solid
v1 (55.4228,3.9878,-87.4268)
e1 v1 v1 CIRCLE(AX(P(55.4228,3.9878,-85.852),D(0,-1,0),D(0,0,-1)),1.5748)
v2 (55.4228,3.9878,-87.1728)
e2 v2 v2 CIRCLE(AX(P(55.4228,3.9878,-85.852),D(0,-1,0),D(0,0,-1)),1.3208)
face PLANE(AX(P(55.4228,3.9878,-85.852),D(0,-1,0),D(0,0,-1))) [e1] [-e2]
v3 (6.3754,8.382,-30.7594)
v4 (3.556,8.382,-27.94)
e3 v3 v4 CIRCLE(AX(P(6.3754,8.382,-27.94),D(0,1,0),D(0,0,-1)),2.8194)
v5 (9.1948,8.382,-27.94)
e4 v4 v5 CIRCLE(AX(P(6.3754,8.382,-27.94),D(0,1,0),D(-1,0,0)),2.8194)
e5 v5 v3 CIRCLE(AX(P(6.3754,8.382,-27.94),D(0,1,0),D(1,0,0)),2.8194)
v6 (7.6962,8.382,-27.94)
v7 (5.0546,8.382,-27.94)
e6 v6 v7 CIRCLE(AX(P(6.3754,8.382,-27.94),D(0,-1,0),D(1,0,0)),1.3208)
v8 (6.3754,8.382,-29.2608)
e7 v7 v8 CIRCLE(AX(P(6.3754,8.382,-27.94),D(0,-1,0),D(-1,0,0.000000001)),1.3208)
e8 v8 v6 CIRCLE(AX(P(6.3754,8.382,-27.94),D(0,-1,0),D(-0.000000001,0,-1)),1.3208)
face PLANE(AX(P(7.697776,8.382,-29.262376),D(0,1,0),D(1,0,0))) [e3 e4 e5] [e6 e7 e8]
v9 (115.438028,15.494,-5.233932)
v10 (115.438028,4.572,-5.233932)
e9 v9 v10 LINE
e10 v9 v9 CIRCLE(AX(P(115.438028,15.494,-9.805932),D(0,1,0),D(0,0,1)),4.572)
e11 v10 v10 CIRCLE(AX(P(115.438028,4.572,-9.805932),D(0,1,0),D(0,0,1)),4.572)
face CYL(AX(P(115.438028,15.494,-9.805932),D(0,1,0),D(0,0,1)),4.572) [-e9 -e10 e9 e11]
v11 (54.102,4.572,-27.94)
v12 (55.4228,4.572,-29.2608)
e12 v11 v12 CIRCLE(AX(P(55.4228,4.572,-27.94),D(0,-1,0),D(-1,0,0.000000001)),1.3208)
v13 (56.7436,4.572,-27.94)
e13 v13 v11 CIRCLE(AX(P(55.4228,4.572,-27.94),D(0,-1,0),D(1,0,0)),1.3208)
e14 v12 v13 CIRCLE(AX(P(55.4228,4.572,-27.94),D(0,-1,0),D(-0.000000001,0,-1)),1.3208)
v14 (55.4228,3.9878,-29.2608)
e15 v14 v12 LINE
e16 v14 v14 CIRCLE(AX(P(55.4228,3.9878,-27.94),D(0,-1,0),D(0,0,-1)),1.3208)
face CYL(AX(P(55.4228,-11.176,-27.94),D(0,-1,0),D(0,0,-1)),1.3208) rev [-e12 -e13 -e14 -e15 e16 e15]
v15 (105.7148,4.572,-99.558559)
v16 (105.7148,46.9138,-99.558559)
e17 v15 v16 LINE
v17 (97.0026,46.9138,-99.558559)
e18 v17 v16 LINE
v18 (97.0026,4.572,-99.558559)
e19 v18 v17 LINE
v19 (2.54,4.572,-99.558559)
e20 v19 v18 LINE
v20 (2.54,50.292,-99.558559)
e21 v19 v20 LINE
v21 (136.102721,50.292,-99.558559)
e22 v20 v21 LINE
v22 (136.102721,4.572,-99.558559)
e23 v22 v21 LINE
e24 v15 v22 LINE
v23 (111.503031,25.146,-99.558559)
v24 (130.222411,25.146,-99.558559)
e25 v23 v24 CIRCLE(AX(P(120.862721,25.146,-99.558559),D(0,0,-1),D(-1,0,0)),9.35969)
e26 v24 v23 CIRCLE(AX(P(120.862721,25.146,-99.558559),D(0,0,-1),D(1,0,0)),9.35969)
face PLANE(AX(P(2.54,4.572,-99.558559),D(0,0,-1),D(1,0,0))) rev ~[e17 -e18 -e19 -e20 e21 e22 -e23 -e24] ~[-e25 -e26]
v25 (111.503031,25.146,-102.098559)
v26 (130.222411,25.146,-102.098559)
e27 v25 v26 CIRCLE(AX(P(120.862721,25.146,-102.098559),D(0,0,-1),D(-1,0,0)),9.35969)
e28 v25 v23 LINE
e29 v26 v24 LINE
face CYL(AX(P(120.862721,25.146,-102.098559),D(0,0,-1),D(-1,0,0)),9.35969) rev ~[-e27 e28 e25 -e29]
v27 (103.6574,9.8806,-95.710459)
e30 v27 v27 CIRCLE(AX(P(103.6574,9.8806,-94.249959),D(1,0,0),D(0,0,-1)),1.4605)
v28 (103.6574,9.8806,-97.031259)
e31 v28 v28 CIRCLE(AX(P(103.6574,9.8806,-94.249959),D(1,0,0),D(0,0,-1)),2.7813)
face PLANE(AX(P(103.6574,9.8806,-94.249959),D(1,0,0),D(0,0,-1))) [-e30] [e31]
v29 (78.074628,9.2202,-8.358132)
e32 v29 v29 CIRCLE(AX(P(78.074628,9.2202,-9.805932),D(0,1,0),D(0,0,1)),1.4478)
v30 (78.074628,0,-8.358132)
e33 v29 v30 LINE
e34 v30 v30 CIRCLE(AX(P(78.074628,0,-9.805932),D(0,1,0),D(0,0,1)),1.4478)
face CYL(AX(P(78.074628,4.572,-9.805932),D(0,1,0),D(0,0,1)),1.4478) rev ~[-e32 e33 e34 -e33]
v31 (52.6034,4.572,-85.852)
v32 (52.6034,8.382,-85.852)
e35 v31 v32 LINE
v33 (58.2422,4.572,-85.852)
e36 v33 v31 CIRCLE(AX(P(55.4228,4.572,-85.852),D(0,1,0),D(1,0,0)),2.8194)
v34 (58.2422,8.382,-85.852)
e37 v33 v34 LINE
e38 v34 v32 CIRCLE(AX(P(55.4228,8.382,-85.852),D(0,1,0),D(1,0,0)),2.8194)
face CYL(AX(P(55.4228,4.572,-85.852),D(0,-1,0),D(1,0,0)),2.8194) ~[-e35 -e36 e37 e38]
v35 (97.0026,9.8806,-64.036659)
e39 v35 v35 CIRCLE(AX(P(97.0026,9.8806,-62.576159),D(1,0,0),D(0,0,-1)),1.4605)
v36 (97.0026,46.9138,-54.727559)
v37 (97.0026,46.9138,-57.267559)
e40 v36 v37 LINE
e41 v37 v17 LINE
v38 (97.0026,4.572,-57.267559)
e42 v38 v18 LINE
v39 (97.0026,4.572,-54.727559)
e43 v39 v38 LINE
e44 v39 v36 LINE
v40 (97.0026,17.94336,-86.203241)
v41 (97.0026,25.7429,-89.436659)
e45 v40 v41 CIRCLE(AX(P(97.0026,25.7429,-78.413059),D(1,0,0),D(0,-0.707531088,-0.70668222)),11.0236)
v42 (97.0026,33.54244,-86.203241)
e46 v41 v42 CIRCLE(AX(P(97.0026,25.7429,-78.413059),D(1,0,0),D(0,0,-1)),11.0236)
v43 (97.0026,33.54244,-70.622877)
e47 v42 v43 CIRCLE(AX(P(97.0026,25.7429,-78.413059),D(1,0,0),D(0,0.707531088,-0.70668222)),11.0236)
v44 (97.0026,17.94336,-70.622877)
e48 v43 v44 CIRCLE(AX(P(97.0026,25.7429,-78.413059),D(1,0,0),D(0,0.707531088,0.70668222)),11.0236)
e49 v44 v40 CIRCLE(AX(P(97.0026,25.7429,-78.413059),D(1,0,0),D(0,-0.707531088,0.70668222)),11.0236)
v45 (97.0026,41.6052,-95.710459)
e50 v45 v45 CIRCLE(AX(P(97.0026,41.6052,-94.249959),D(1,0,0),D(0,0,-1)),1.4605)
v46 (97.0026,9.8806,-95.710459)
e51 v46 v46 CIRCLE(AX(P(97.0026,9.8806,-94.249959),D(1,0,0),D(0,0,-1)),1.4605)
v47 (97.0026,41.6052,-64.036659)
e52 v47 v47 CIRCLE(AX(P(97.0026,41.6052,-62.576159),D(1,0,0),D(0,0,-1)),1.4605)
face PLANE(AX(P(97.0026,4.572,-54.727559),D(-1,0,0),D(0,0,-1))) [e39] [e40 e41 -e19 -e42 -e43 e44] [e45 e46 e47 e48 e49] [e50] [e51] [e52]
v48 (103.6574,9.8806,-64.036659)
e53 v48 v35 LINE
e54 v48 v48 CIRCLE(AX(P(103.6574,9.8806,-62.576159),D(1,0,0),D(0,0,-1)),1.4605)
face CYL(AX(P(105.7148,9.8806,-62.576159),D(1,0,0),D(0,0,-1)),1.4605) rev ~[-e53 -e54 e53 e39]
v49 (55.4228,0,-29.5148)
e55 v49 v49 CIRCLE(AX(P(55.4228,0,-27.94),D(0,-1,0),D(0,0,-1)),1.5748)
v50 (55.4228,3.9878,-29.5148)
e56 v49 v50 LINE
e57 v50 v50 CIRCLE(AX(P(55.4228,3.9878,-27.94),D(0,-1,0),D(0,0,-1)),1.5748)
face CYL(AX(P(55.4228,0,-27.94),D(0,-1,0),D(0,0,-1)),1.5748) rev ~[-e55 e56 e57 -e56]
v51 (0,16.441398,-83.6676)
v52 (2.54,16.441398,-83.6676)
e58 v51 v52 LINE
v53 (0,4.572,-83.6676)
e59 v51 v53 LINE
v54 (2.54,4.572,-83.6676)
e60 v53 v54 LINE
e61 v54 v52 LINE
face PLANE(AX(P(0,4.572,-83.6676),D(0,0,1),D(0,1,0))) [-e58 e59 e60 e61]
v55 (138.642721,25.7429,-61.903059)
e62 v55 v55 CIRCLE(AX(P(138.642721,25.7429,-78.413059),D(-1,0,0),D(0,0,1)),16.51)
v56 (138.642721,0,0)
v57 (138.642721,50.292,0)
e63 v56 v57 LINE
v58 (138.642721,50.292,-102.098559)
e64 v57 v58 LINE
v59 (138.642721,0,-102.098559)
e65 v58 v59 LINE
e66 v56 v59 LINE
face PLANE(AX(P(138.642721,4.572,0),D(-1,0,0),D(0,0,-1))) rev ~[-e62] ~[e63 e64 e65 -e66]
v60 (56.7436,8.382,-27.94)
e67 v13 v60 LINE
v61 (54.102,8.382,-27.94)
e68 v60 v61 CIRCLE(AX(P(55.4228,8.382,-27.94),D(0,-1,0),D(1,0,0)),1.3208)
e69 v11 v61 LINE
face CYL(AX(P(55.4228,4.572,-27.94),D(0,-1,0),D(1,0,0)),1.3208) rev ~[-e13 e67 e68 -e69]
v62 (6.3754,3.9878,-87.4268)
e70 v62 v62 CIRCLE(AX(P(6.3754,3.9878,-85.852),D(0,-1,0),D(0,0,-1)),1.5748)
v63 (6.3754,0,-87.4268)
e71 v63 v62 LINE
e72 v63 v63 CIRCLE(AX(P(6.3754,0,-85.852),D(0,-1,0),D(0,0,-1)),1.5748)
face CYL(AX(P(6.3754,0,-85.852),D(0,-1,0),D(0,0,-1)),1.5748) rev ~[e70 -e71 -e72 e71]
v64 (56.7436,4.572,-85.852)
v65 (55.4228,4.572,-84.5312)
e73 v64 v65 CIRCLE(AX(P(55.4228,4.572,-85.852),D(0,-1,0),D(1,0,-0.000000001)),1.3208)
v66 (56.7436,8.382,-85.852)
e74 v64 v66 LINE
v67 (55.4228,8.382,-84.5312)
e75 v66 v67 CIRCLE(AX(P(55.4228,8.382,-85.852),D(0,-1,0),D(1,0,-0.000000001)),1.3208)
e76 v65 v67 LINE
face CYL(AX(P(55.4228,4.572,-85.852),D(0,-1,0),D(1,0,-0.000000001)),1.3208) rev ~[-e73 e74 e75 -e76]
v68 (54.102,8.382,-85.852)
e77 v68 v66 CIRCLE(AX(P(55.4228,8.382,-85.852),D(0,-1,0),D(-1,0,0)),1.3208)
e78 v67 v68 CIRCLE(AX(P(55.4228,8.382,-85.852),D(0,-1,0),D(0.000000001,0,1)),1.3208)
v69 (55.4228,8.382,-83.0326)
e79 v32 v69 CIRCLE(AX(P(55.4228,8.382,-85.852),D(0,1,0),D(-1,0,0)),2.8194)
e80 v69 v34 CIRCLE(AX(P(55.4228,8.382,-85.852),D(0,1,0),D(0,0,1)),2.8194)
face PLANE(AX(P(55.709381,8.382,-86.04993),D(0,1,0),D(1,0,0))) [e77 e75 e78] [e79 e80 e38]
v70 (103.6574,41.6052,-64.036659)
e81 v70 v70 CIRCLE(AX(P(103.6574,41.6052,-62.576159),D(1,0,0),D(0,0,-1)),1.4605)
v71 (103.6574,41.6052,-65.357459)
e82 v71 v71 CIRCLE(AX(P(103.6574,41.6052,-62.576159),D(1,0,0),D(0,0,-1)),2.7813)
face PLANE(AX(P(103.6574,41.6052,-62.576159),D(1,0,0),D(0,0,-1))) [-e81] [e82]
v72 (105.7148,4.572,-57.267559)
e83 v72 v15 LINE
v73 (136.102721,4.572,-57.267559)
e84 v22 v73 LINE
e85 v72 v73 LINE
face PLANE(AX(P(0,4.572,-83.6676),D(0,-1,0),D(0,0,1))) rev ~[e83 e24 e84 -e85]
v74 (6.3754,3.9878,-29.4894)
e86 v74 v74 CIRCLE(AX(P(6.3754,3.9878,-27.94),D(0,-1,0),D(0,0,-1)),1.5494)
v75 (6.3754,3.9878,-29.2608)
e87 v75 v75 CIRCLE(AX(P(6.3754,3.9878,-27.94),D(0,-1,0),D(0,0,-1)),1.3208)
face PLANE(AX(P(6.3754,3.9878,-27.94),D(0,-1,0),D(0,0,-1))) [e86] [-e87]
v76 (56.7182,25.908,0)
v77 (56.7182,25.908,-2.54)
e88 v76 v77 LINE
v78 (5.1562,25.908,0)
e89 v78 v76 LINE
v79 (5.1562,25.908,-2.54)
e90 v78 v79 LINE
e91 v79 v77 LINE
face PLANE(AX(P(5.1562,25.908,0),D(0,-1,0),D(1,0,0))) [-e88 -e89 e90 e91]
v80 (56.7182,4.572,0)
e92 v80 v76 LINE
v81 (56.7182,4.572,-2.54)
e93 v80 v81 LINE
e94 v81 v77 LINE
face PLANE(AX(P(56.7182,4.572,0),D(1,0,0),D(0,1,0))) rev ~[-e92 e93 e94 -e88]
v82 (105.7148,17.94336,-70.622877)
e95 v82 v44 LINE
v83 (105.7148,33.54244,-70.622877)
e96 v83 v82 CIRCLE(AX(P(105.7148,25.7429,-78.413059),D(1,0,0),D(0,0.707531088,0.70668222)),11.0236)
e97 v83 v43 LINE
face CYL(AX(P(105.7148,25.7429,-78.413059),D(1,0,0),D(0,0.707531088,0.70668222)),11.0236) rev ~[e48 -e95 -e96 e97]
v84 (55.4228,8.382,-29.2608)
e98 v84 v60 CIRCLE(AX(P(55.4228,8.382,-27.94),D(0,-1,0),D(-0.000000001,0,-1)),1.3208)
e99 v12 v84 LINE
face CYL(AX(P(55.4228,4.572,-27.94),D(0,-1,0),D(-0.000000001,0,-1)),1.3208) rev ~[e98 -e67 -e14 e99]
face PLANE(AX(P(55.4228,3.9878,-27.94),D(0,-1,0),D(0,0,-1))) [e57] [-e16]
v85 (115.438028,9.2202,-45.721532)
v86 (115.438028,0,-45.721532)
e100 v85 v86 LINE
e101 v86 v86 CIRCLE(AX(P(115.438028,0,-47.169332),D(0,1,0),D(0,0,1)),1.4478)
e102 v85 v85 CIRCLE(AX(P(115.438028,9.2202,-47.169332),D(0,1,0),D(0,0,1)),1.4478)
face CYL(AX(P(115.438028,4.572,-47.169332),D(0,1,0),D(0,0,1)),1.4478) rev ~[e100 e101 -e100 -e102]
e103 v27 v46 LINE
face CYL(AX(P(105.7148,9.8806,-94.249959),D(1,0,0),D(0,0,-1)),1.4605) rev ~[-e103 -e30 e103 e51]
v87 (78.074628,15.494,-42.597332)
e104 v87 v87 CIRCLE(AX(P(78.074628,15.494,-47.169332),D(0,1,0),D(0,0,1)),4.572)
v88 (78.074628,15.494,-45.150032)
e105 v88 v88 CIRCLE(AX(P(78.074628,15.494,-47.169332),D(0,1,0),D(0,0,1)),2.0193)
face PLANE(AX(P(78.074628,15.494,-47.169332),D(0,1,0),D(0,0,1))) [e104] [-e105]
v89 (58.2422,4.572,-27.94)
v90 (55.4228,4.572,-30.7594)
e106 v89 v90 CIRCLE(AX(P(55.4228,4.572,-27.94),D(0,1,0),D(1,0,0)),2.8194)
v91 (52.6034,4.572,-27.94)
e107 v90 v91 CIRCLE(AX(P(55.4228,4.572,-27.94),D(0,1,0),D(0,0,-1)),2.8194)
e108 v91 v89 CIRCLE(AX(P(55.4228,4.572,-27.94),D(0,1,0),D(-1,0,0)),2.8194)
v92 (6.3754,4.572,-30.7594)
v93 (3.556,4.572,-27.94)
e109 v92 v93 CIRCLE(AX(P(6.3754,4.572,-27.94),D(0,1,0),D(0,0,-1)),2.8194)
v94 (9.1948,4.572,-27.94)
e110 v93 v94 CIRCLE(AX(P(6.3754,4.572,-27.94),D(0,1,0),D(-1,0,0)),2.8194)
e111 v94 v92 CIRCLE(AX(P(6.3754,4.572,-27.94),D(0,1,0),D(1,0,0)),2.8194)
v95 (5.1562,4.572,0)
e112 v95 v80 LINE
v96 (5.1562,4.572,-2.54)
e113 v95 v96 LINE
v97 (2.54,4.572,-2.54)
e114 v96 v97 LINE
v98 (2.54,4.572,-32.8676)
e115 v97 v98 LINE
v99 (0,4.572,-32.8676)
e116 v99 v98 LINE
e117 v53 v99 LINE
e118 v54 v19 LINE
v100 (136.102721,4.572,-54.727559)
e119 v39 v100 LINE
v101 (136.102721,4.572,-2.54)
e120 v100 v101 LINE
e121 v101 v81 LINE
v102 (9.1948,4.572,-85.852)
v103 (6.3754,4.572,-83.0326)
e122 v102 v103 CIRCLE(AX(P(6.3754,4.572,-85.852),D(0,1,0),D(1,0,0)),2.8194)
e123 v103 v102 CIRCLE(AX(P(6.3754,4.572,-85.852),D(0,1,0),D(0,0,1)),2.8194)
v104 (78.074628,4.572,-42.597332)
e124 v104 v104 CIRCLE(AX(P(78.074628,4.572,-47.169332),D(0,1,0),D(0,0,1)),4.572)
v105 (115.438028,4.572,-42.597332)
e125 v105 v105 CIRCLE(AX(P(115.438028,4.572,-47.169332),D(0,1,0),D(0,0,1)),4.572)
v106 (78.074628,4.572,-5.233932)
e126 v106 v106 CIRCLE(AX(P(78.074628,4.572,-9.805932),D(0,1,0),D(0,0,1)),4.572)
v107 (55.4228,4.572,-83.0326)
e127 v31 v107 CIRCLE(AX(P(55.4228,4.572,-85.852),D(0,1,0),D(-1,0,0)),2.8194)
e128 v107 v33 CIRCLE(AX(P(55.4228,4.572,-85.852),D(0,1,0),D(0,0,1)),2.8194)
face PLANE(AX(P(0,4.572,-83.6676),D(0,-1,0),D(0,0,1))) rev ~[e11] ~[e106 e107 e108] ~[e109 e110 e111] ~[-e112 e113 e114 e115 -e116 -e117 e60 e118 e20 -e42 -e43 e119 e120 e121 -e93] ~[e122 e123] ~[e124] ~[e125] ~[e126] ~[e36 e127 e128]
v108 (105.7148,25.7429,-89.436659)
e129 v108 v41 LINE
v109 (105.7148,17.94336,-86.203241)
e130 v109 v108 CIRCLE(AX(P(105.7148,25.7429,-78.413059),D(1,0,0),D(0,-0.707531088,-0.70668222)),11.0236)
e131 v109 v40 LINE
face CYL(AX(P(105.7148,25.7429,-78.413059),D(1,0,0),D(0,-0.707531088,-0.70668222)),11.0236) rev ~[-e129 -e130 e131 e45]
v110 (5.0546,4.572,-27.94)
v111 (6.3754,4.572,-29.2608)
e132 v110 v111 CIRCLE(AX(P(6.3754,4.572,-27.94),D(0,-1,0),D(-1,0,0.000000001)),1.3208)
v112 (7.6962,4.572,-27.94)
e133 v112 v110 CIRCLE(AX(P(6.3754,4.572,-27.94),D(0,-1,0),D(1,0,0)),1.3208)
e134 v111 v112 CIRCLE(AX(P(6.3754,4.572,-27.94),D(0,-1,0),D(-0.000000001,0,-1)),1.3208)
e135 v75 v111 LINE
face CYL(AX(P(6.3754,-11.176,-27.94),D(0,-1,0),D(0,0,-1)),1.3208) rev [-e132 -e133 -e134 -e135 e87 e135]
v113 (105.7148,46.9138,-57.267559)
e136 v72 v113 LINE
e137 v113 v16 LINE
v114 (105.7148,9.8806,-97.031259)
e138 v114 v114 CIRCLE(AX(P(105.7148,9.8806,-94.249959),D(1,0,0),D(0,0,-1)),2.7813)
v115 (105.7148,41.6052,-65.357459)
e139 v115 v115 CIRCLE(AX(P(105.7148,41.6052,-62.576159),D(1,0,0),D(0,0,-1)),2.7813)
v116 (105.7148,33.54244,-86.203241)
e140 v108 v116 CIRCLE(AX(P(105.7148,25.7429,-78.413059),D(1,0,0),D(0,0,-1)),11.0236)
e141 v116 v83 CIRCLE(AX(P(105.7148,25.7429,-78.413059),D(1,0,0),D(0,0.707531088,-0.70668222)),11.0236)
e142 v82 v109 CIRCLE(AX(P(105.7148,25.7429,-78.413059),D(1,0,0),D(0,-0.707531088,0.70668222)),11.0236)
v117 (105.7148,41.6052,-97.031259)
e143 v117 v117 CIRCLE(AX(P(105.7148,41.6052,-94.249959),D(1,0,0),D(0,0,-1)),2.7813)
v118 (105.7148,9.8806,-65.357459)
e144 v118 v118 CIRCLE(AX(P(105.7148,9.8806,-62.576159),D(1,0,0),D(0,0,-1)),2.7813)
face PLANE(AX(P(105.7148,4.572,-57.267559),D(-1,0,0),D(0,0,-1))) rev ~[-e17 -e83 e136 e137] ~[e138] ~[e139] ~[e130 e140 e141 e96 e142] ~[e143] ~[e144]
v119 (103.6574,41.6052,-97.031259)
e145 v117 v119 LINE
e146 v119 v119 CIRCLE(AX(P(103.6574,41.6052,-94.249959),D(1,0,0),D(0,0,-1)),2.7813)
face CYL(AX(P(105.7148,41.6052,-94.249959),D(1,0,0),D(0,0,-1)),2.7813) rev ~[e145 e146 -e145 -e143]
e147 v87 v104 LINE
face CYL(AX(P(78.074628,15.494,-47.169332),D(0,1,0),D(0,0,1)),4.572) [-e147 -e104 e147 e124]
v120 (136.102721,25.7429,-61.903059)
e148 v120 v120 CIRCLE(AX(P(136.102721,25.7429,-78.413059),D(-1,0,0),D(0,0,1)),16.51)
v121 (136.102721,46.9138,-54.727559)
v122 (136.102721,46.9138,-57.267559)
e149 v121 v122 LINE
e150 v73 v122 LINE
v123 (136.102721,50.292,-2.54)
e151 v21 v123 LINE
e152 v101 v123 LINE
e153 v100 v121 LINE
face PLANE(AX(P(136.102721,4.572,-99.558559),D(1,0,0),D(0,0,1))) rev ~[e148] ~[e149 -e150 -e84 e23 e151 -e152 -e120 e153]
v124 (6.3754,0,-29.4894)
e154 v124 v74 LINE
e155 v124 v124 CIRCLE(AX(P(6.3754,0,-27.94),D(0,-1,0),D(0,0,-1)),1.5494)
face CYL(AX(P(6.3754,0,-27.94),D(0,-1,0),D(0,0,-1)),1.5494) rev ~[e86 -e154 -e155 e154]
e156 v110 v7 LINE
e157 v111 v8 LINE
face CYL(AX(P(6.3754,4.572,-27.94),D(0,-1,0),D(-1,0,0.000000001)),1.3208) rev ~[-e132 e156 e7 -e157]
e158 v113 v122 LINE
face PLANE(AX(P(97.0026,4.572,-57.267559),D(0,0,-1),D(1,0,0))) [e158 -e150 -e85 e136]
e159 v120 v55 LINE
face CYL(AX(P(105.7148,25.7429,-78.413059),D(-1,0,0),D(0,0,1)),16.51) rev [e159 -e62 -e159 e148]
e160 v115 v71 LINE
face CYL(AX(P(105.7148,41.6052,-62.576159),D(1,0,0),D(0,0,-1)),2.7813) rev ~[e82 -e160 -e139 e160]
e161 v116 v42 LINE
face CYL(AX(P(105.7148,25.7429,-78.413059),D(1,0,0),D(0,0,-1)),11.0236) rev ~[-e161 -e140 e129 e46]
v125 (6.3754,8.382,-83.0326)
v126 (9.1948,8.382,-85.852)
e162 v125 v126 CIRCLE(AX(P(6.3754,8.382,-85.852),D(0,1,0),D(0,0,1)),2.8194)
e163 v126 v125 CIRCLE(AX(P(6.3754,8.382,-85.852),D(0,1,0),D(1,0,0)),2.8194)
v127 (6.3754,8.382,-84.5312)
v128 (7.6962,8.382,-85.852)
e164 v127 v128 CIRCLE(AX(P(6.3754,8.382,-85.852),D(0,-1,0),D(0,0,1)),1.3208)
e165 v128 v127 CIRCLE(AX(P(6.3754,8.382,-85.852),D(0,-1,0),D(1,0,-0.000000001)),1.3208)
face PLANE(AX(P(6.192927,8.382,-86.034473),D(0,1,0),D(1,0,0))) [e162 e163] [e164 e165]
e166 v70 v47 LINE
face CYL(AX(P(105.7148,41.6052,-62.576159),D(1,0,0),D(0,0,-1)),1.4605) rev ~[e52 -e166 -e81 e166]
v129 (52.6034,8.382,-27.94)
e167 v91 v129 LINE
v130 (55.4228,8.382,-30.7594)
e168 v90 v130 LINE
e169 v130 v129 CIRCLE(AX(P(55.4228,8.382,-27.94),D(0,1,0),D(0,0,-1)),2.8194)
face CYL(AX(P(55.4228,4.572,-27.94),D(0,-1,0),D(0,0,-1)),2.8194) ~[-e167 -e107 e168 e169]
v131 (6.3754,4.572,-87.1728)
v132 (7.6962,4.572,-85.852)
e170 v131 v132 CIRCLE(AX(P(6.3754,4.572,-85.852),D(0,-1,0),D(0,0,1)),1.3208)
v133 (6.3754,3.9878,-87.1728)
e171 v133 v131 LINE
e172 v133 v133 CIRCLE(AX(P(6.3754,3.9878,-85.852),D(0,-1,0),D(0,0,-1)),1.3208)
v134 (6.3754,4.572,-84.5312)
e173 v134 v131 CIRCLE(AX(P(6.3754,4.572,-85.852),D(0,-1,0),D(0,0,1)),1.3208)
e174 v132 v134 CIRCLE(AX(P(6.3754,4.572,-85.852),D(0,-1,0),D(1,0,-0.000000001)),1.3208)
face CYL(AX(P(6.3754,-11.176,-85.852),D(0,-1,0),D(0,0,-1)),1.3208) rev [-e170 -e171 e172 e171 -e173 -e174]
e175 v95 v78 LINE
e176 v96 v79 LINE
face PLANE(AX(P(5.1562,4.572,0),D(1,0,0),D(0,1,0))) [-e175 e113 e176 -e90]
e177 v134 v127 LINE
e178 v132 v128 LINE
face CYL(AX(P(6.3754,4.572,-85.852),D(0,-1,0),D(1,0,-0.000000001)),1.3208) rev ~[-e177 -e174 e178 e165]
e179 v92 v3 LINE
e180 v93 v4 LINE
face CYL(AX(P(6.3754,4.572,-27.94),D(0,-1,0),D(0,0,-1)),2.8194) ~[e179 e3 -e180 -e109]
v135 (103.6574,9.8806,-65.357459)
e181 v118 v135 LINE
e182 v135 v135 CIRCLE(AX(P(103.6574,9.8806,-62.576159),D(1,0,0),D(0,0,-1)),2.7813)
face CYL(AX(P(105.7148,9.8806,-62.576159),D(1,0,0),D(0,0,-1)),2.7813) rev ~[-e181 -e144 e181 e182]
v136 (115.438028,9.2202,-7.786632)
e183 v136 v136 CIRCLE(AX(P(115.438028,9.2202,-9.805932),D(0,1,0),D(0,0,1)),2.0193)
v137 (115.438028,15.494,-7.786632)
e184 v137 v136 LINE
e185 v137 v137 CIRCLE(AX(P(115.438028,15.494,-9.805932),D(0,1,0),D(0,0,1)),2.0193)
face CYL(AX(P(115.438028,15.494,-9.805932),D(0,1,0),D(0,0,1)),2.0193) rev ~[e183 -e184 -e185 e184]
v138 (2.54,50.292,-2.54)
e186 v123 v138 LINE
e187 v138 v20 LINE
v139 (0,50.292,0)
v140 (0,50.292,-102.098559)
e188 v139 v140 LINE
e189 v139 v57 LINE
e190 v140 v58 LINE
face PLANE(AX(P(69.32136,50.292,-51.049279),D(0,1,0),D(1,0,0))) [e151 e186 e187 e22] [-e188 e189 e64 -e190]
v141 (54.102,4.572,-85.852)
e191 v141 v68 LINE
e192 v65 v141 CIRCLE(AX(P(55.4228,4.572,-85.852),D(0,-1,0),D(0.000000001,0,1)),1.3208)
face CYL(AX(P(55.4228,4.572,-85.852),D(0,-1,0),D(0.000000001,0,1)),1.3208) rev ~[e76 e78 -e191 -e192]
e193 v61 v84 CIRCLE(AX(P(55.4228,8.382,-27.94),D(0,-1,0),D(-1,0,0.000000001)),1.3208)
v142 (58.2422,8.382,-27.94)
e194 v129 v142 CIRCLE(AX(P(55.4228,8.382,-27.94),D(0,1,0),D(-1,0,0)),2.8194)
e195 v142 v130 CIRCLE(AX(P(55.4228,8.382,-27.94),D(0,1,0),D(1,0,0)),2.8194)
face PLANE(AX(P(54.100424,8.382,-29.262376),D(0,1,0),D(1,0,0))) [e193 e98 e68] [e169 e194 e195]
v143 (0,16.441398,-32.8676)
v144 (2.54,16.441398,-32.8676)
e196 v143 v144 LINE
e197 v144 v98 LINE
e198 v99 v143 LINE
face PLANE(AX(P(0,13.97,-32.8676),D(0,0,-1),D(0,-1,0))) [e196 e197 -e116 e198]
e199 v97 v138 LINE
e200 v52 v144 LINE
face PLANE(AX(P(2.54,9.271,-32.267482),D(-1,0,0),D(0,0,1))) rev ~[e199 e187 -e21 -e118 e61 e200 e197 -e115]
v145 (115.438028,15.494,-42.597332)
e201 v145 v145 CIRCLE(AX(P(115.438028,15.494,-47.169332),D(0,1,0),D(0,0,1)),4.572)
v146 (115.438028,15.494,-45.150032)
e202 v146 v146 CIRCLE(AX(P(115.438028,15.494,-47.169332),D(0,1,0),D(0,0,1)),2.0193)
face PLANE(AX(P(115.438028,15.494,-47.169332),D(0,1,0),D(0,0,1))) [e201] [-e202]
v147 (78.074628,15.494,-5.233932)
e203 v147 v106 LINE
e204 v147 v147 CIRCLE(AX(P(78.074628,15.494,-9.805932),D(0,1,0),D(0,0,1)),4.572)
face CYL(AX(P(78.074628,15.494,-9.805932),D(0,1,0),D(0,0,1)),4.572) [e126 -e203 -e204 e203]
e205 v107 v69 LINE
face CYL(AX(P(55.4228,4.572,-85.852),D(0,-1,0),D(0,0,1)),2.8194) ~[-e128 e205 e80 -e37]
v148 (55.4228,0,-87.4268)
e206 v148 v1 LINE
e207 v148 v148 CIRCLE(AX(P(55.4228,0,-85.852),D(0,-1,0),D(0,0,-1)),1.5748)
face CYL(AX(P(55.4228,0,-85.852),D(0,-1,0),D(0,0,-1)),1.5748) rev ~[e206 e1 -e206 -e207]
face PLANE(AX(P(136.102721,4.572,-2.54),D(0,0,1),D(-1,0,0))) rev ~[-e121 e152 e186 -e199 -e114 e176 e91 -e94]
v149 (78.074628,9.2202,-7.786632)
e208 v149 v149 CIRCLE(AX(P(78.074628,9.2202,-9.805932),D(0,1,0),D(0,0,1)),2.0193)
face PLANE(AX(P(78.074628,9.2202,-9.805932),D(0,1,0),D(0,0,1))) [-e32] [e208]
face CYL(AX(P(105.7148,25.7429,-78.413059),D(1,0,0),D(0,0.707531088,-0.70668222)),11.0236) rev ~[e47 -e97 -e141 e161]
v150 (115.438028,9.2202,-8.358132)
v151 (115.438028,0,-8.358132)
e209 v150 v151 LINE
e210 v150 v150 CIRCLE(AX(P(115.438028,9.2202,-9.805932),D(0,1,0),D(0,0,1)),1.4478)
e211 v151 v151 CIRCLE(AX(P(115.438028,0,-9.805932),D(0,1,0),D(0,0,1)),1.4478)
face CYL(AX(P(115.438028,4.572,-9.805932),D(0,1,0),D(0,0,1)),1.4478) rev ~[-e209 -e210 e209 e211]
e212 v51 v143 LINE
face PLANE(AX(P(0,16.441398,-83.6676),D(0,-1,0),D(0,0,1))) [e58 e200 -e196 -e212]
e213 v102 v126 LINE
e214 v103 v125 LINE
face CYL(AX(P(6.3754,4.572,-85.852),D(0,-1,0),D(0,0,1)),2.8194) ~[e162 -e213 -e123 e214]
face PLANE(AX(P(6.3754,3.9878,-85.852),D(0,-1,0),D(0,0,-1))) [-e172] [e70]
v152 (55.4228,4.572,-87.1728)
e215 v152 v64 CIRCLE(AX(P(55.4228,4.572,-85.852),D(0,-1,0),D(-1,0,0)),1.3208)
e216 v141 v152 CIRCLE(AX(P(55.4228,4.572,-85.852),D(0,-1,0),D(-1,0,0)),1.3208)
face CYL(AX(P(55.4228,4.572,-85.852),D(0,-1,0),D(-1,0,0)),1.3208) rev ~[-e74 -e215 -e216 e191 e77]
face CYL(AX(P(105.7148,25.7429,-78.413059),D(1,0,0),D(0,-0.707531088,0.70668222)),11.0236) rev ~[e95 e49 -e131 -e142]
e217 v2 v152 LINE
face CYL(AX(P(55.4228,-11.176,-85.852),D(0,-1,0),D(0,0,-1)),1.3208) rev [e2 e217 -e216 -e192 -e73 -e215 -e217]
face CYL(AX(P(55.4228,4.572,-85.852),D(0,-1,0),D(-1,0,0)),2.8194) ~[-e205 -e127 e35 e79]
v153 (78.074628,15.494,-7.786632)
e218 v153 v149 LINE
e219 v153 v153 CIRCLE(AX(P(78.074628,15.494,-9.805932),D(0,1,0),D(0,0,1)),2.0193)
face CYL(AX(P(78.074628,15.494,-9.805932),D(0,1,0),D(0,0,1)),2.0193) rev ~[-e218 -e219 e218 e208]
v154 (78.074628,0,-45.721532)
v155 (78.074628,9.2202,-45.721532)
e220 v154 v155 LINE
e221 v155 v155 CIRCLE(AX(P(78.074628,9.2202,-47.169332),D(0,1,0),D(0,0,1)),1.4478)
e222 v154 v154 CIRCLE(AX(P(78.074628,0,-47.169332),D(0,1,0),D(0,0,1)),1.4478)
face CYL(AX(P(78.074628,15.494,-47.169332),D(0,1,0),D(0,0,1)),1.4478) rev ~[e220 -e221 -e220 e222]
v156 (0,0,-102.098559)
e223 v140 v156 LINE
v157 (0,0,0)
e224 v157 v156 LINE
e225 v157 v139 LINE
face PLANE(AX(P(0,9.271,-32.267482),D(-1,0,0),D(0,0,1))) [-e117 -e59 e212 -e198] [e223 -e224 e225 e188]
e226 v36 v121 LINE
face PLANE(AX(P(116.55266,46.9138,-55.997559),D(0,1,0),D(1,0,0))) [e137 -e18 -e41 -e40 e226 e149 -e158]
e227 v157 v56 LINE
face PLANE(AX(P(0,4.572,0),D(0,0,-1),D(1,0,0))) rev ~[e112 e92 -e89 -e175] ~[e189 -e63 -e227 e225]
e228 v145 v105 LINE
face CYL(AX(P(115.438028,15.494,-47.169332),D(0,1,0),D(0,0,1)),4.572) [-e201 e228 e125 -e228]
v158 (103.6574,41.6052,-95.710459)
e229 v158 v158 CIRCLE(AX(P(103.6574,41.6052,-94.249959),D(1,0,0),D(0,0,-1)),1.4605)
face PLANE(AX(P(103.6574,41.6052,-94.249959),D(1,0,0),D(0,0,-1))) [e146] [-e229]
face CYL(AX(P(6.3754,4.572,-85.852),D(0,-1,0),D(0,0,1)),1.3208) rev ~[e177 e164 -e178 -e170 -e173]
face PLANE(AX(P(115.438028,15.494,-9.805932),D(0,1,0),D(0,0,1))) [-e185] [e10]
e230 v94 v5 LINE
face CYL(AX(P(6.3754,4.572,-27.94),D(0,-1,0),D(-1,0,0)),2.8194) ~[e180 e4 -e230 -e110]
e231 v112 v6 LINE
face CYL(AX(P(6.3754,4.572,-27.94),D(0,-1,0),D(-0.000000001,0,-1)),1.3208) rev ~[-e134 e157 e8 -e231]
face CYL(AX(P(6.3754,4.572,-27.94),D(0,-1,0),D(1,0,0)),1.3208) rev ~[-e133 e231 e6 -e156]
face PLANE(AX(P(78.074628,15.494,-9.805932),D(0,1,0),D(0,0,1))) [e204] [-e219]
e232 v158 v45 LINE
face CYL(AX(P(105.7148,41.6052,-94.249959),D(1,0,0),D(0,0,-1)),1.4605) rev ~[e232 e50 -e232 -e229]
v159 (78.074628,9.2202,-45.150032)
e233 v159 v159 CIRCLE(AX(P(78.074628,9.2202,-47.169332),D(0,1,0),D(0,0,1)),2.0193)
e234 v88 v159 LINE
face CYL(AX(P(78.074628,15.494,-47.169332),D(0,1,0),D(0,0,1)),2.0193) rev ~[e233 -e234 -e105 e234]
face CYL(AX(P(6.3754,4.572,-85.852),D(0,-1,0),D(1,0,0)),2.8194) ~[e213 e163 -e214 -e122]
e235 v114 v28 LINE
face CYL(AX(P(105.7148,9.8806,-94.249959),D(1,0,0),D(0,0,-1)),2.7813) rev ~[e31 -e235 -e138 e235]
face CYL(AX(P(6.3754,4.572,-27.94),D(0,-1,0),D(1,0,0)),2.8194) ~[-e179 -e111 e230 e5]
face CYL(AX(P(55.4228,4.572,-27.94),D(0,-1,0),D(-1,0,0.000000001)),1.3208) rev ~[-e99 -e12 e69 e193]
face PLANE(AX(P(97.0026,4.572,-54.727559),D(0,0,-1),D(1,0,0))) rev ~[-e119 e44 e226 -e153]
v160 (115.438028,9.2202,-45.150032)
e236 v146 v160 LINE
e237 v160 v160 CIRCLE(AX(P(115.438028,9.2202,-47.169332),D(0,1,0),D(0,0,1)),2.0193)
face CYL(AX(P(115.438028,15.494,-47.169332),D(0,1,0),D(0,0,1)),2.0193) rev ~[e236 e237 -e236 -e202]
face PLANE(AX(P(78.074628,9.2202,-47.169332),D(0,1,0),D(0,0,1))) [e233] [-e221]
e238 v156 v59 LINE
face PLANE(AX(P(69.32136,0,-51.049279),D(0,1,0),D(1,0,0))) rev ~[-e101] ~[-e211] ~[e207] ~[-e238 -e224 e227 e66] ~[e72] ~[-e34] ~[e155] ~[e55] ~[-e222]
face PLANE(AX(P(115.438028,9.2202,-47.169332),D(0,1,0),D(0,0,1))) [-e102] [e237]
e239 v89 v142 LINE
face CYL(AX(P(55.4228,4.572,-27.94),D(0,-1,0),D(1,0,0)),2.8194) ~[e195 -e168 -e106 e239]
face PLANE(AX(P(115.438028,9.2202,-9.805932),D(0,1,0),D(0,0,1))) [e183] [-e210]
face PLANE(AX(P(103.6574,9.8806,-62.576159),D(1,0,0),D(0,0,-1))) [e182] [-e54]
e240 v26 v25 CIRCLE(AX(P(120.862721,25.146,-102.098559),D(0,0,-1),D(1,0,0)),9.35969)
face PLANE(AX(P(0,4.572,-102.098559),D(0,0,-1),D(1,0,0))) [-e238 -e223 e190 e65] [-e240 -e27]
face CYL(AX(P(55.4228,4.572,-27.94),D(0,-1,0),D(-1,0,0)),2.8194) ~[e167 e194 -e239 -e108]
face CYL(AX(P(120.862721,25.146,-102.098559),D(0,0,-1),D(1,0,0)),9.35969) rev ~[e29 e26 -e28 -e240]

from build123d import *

# Parameters (mm, degrees)
SKETCH1_W           = 138.642720905
SKETCH1_H           = 102.098558723
BOSS_EXTRUDE1_DEPTH = 4.572
SKETCH2_W           = 138.642720905
SKETCH2_H           = 102.098558723
BOSS_EXTRUDE2_DEPTH = 45.72
CUT_EXTRUDE2_DEPTH  = 45.72
BOSS_EXTRUDE3_DEPTH = 3.81
CUT_EXTRUDE3_START  = -15.748
SKETCH6_R           = 1.3208
CUT_EXTRUDE3_DEPTH  = 15.748
SKETCH7_R           = 1.5494
SKETCH7_R_2         = 1.5748
CUT_EXTRUDE4_DEPTH  = 3.9878
SKETCH9_W           = 51.562
SKETCH9_H           = 21.336
CUT_EXTRUDE5_DEPTH  = 13.3858
SKETCH10_W          = 8.7122
SKETCH10_H          = 42.291
BOSS_EXTRUDE4_DEPTH = 42.3418
CUT_EXTRUDE6_DEPTH  = 42.3418
SKETCH12_R          = 1.4605
CUT_EXTRUDE9_DEPTH  = 42.3418
SKETCH15_R          = 2.7813
CUT_EXTRUDE10_DEPTH = 2.0574
SKETCH16_W          = 39.100120905
SKETCH16_H          = 2.54
BOSS_EXTRUDE5_DEPTH = 42.3418
SKETCH17_R          = 1.4478
CUT_EXTRUDE11_DEPTH = 15.0114
BOSS_EXTRUDE6_START = 10.922
SKETCH18_R          = 2.667
SKETCH18_R_2        = 1.4478
BOSS_EXTRUDE6_DEPTH = 10.922
SKETCH19_R          = 2.0193
CUT_EXTRUDE12_DEPTH = 6.2738
SKETCH20_R          = 4.572
SKETCH20_R_2        = 2.0193
BOSS_EXTRUDE7_DEPTH = 10.922
CUT_EXTRUDE13_START = -46.1518
SKETCH21_R          = 11.0236
CUT_EXTRUDE13_DEPTH = 46.1518
SKETCH23_R          = 16.51
CUT_EXTRUDE14_DEPTH = 61.1378
CUT_EXTRUDE15_DEPTH = 15.1638
SKETCH27_W          = 50.8
SKETCH27_H          = 2.471398423
CUT_EXTRUDE16_DEPTH = 15.1638
BOSS_EXTRUDE8_DEPTH = 2.54
BOSS_EXTRUDE9_DEPTH = 2.54


with BuildPart() as part:
    # Sketch1 → Boss-Extrude1 (new body)
    with BuildSketch(Plane(origin=(0, 0, 0), x_dir=(1, 0, 0), z_dir=(0, 1, 0))):
        with Locations((69.321360453, 51.049279362)):
            Rectangle(SKETCH1_W, SKETCH1_H)
    extrude(amount=BOSS_EXTRUDE1_DEPTH)

    # Sketch2 → Boss-Extrude2 (add)
    with BuildSketch(Plane(origin=(0, 4.572, 0), x_dir=(1, 0, 0), z_dir=(0, 1, 0))):
        with Locations((69.321360453, 51.049279362)):
            Rectangle(SKETCH2_W, SKETCH2_H)
        Polygon((2.54, 99.558558723), (69.321360452, 99.558558723), (136.102720905, 99.558558723), (136.102720905, 51.049279362), (136.102720905, 2.54), (2.54, 2.54), align=None, mode=Mode.SUBTRACT)
    extrude(amount=BOSS_EXTRUDE2_DEPTH)

    # Sketch4 → Cut-Extrude2 (cut)
    with BuildSketch(Plane.ZY):
        with BuildLine():
            Line((-83.6676, 4.572), (-51.049279362, 4.572))
            Line((-51.049279362, 4.572), (-32.8676, 4.572))
            ThreePointArc((-32.8676, 4.572), (-30.92121047, 9.271), (-32.8676, 13.97))
            Line((-32.8676, 13.97), (-83.6676, 13.97))
            ThreePointArc((-83.6676, 13.97), (-85.61398953, 9.271), (-83.6676, 4.572))
        make_face()
    extrude(amount=-CUT_EXTRUDE2_DEPTH, mode=Mode.SUBTRACT)

    # Sketch5 → Boss-Extrude3 (add)
    with BuildSketch(Plane(origin=(0, 4.572, 0), x_dir=(1, 0, 0), z_dir=(0, 1, 0))):
        with BuildLine():
            ThreePointArc((9.1948, 27.94), (8.369016859, 29.933616859), (6.3754, 30.7594))
            Line((6.3754, 30.7594), (6.3754, 29.2608))
            ThreePointArc((6.3754, 29.2608), (7.309346637, 28.873946637), (7.6962, 27.94))
            Line((7.6962, 27.94), (9.1948, 27.94))
        make_face()
        with BuildLine():
            Line((5.0546, 27.94), (3.556, 27.94))
            ThreePointArc((3.556, 27.94), (6.3754, 25.1206), (9.1948, 27.94))
            Line((9.1948, 27.94), (7.6962, 27.94))
            ThreePointArc((7.6962, 27.94), (6.3754, 26.6192), (5.0546, 27.94))
        make_face()
        with BuildLine():
            ThreePointArc((6.3754, 30.7594), (4.381783141, 29.933616859), (3.556, 27.94))
            Line((3.556, 27.94), (5.0546, 27.94))
            ThreePointArc((5.0546, 27.94), (5.441453363, 28.873946637), (6.3754, 29.2608))
            Line((6.3754, 29.2608), (6.3754, 30.7594))
        make_face()
        with BuildLine():
            ThreePointArc((55.4228, 30.7594), (53.429183141, 29.933616859), (52.6034, 27.94))
            Line((52.6034, 27.94), (54.102, 27.94))
            ThreePointArc((54.102, 27.94), (54.488853363, 28.873946637), (55.4228, 29.2608))
            Line((55.4228, 29.2608), (55.4228, 30.7594))
        make_face()
        with BuildLine():
            Line((54.102, 27.94), (52.6034, 27.94))
            ThreePointArc((52.6034, 27.94), (55.4228, 25.1206), (58.2422, 27.94))
            ThreePointArc((58.2422, 27.94), (57.416416859, 29.933616859), (55.4228, 30.7594))
            Line((55.4228, 30.7594), (55.4228, 29.2608))
            ThreePointArc((55.4228, 29.2608), (56.356746637, 28.873946637), (56.7436, 27.94))
            ThreePointArc((56.7436, 27.94), (55.4228, 26.6192), (54.102, 27.94))
        make_face()
        with BuildLine():
            ThreePointArc((58.2422, 85.852), (55.4228, 88.6714), (52.6034, 85.852))
            Line((52.6034, 85.852), (54.102, 85.852))
            ThreePointArc((54.102, 85.852), (55.4228, 87.1728), (56.7436, 85.852))
            ThreePointArc((56.7436, 85.852), (56.356746637, 84.918053363), (55.4228, 84.5312))
            Line((55.4228, 84.5312), (55.4228, 83.0326))
            ThreePointArc((55.4228, 83.0326), (57.416416859, 83.858383141), (58.2422, 85.852))
        make_face()
        with BuildLine():
            Line((54.102, 85.852), (52.6034, 85.852))
            ThreePointArc((52.6034, 85.852), (53.429183141, 83.858383141), (55.4228, 83.0326))
            Line((55.4228, 83.0326), (55.4228, 84.5312))
            ThreePointArc((55.4228, 84.5312), (54.488853363, 84.918053363), (54.102, 85.852))
        make_face()
        with BuildLine():
            ThreePointArc((9.1948, 85.852), (4.381783141, 87.845616859), (6.3754, 83.0326))
            Line((6.3754, 83.0326), (6.3754, 84.5312))
            ThreePointArc((6.3754, 84.5312), (5.441453363, 86.785946637), (7.6962, 85.852))
            Line((7.6962, 85.852), (9.1948, 85.852))
        make_face()
        with BuildLine():
            Line((6.3754, 84.5312), (6.3754, 83.0326))
            ThreePointArc((6.3754, 83.0326), (8.369016859, 83.858383141), (9.1948, 85.852))
            Line((9.1948, 85.852), (7.6962, 85.852))
            ThreePointArc((7.6962, 85.852), (7.309346637, 84.918053363), (6.3754, 84.5312))
        make_face()
    extrude(amount=BOSS_EXTRUDE3_DEPTH)

    # Sketch6 → Cut-Extrude3 (cut)
    with BuildSketch(Plane(origin=(0, 4.572, 0), x_dir=(1, 0, 0), z_dir=(0, 1, 0)).offset(CUT_EXTRUDE3_START)):
        with Locations(Location((6.3754, 27.94, 0), (0, 0, 90))):
            Circle(SKETCH6_R)
        with Locations(Location((55.4228, 27.94, 0), (0, 0, 90))):
            Circle(SKETCH6_R)
        with Locations(Location((55.4228, 85.852, 0), (0, 0, 90))):
            Circle(SKETCH6_R)
        with Locations(Location((6.3754, 85.852, 0), (0, 0, 90))):
            Circle(SKETCH6_R)
    extrude(amount=CUT_EXTRUDE3_DEPTH, mode=Mode.SUBTRACT)

    # Sketch7 → Cut-Extrude4 (cut)
    with BuildSketch(Plane.XZ):
        with Locations(Location((6.3754, -27.94, 0), (0, 0, 270))):
            Circle(SKETCH7_R)
        with Locations(Location((55.4228, -27.94, 0), (0, 0, 270))):
            Circle(SKETCH7_R_2)
        with Locations(Location((55.4228, -85.852, 0), (0, 0, 270))):
            Circle(SKETCH7_R_2)
        with Locations(Location((6.3754, -85.852, 0), (0, 0, 270))):
            Circle(SKETCH7_R_2)
    extrude(amount=-CUT_EXTRUDE4_DEPTH, mode=Mode.SUBTRACT)

    # Sketch9 → Cut-Extrude5 (cut)
    with BuildSketch(Plane.XY):
        with Locations((30.9372, 15.24)):
            Rectangle(SKETCH9_W, SKETCH9_H)
    extrude(amount=-CUT_EXTRUDE5_DEPTH, mode=Mode.SUBTRACT)

    # Sketch10 → Boss-Extrude4 (add)
    with BuildSketch(Plane(origin=(0, 4.572, 0), x_dir=(1, 0, 0), z_dir=(0, 1, 0))):
        with Locations((101.3587, 78.413058723)):
            Rectangle(SKETCH10_W, SKETCH10_H)
    extrude(amount=BOSS_EXTRUDE4_DEPTH)

    # Sketch11 → Cut-Extrude6 (cut)
    with BuildSketch(Plane(origin=(105.7148, 0, 0), x_dir=(0, 0, -1), z_dir=(1, 0, 0))):
        with BuildLine():
            ThreePointArc((89.436658723, 25.7429), (88.596270608, 29.964505461), (86.203240844, 33.542439697))
            Line((86.203240844, 33.542439697), (78.413058723, 25.7429))
            Line((78.413058723, 25.7429), (86.203240844, 17.943360303))
            ThreePointArc((86.203240844, 17.943360303), (88.596270608, 21.521294539), (89.436658723, 25.7429))
        make_face()
        with BuildLine():
            Line((78.413058723, 25.7429), (86.203240844, 33.542439697))
            ThreePointArc((86.203240844, 33.542439697), (78.413058723, 36.7665), (70.622876602, 33.542439697))
            Line((70.622876602, 33.542439697), (78.413058723, 25.7429))
        make_face()
        with BuildLine():
            Line((86.203240844, 17.943360303), (78.413058723, 25.7429))
            Line((78.413058723, 25.7429), (70.622876602, 17.943360303))
            ThreePointArc((70.622876602, 17.943360303), (78.413058723, 14.7193), (86.203240844, 17.943360303))
        make_face()
        with BuildLine():
            Line((70.622876602, 17.943360303), (78.413058723, 25.7429))
            Line((78.413058723, 25.7429), (70.622876602, 33.542439697))
            ThreePointArc((70.622876602, 33.542439697), (67.389458723, 25.7429), (70.622876602, 17.943360303))
        make_face()
    extrude(amount=-CUT_EXTRUDE6_DEPTH, mode=Mode.SUBTRACT)

    # Sketch12 → Cut-Extrude9 (cut)
    with BuildSketch(Plane(origin=(105.7148, 0, 0), x_dir=(0, 0, -1), z_dir=(1, 0, 0))):
        with Locations((94.249958723, 9.8806)):
            Circle(SKETCH12_R)
        with Locations((62.576158723, 9.8806)):
            Circle(SKETCH12_R)
        with Locations((94.249958723, 41.6052)):
            Circle(SKETCH12_R)
        with Locations((62.576158723, 41.6052)):
            Circle(SKETCH12_R)
    extrude(amount=-CUT_EXTRUDE9_DEPTH, mode=Mode.SUBTRACT)

    # Sketch15 → Cut-Extrude10 (cut)
    with BuildSketch(Plane(origin=(105.7148, 0, 0), x_dir=(0, 0, -1), z_dir=(1, 0, 0))):
        with Locations((62.576158723, 41.6052)):
            Circle(SKETCH15_R)
        with Locations((94.249958723, 41.6052)):
            Circle(SKETCH15_R)
        with Locations((62.576158723, 9.8806)):
            Circle(SKETCH15_R)
        with Locations((94.249958723, 9.8806)):
            Circle(SKETCH15_R)
    extrude(amount=-CUT_EXTRUDE10_DEPTH, mode=Mode.SUBTRACT)

    # Sketch16 → Boss-Extrude5 (add)
    with BuildSketch(Plane(origin=(0, 4.572, 0), x_dir=(1, 0, 0), z_dir=(0, 1, 0))):
        with Locations((116.552660453, 55.997558723)):
            Rectangle(SKETCH16_W, SKETCH16_H)
    extrude(amount=BOSS_EXTRUDE5_DEPTH)

    # Sketch17 → Cut-Extrude11 (cut)
    with BuildSketch(Plane(origin=(0, 4.572, 0), x_dir=(1, 0, 0), z_dir=(0, 1, 0))):
        with Locations(Location((78.074628339, 47.169331877, 0), (0, 0, 270))):
            Circle(SKETCH17_R)
        with Locations(Location((115.438028339, 47.169331877, 0), (0, 0, 270))):
            Circle(SKETCH17_R)
        with Locations(Location((115.438028339, 9.805931877, 0), (0, 0, 270))):
            Circle(SKETCH17_R)
        with Locations(Location((78.074628339, 9.805931877, 0), (0, 0, 270))):
            Circle(SKETCH17_R)
    extrude(amount=-CUT_EXTRUDE11_DEPTH, mode=Mode.SUBTRACT)

    # Sketch18 → Boss-Extrude6 (add)
    # profile 1 of 4: a face of its own
    with BuildSketch(Plane(origin=(0, 4.572, 0), x_dir=(1, 0, 0), z_dir=(0, 1, 0)).offset(BOSS_EXTRUDE6_START)):
        with Locations(Location((78.074628339, 47.169331877, 0), (0, 0, 270))):
            Circle(SKETCH18_R)
        with Locations(Location((78.074628339, 47.169331877, 0), (0, 0, 270))):
            Circle(SKETCH18_R_2, mode=Mode.SUBTRACT)
    # profile 2 of 4: a face of its own
    with BuildSketch(Plane(origin=(0, 4.572, 0), x_dir=(1, 0, 0), z_dir=(0, 1, 0)).offset(BOSS_EXTRUDE6_START)):
        with Locations(Location((115.438028339, 47.169331877, 0), (0, 0, 270))):
            Circle(SKETCH18_R)
        with Locations(Location((115.438028339, 47.169331877, 0), (0, 0, 270))):
            Circle(SKETCH18_R_2, mode=Mode.SUBTRACT)
    # profile 3 of 4: a face of its own
    with BuildSketch(Plane(origin=(0, 4.572, 0), x_dir=(1, 0, 0), z_dir=(0, 1, 0)).offset(BOSS_EXTRUDE6_START)):
        with Locations(Location((115.438028339, 9.805931877, 0), (0, 0, 270))):
            Circle(SKETCH18_R)
        with Locations(Location((115.438028339, 9.805931877, 0), (0, 0, 270))):
            Circle(SKETCH18_R_2, mode=Mode.SUBTRACT)
    # profile 4 of 4: a face of its own
    with BuildSketch(Plane(origin=(0, 4.572, 0), x_dir=(1, 0, 0), z_dir=(0, 1, 0)).offset(BOSS_EXTRUDE6_START)):
        with Locations(Location((78.074628339, 9.805931877, 0), (0, 0, 270))):
            Circle(SKETCH18_R)
        with Locations(Location((78.074628339, 9.805931877, 0), (0, 0, 270))):
            Circle(SKETCH18_R_2, mode=Mode.SUBTRACT)
    extrude(amount=-BOSS_EXTRUDE6_DEPTH)

    # Sketch19 → Cut-Extrude12 (cut)
    with BuildSketch(Plane(origin=(0, 15.494, 0), x_dir=(1, 0, 0), z_dir=(0, 1, 0))):
        with Locations(Location((115.438028339, 9.805931877, 0), (0, 0, 270))):
            Circle(SKETCH19_R)
        with Locations(Location((78.074628339, 9.805931877, 0), (0, 0, 270))):
            Circle(SKETCH19_R)
        with Locations(Location((115.438028339, 47.169331877, 0), (0, 0, 270))):
            Circle(SKETCH19_R)
        with Locations(Location((78.074628339, 47.169331877, 0), (0, 0, 270))):
            Circle(SKETCH19_R)
    extrude(amount=-CUT_EXTRUDE12_DEPTH, mode=Mode.SUBTRACT)

    # Sketch20 → Boss-Extrude7 (add)
    # profile 1 of 4: a face of its own
    with BuildSketch(Plane(origin=(0, 15.494, 0), x_dir=(1, 0, 0), z_dir=(0, 1, 0))):
        with Locations(Location((78.074628339, 9.805931877, 0), (0, 0, 270))):
            Circle(SKETCH20_R)
        with Locations(Location((78.074628339, 9.805931877, 0), (0, 0, 270))):
            Circle(SKETCH20_R_2, mode=Mode.SUBTRACT)
    # profile 2 of 4: a face of its own
    with BuildSketch(Plane(origin=(0, 15.494, 0), x_dir=(1, 0, 0), z_dir=(0, 1, 0))):
        with Locations(Location((115.438028339, 9.805931877, 0), (0, 0, 270))):
            Circle(SKETCH20_R)
        with Locations(Location((115.438028339, 9.805931877, 0), (0, 0, 270))):
            Circle(SKETCH20_R_2, mode=Mode.SUBTRACT)
    # profile 3 of 4: a face of its own
    with BuildSketch(Plane(origin=(0, 15.494, 0), x_dir=(1, 0, 0), z_dir=(0, 1, 0))):
        with Locations(Location((115.438028339, 47.169331877, 0), (0, 0, 270))):
            Circle(SKETCH20_R)
        with Locations(Location((115.438028339, 47.169331877, 0), (0, 0, 270))):
            Circle(SKETCH20_R_2, mode=Mode.SUBTRACT)
    # profile 4 of 4: a face of its own
    with BuildSketch(Plane(origin=(0, 15.494, 0), x_dir=(1, 0, 0), z_dir=(0, 1, 0))):
        with Locations(Location((78.074628339, 47.169331877, 0), (0, 0, 270))):
            Circle(SKETCH20_R)
        with Locations(Location((78.074628339, 47.169331877, 0), (0, 0, 270))):
            Circle(SKETCH20_R_2, mode=Mode.SUBTRACT)
    extrude(amount=-BOSS_EXTRUDE7_DEPTH)

    # Sketch21 → Cut-Extrude13 (cut)
    with BuildSketch(Plane.ZY.offset(-97.0026).offset(CUT_EXTRUDE13_START)):
        with Locations(Location((-78.413058723, 25.7429, 0), (0, 0, 180))):
            Circle(SKETCH21_R)
    extrude(amount=CUT_EXTRUDE13_DEPTH, mode=Mode.SUBTRACT)

    # Sketch23 → Cut-Extrude14 (cut)
    with BuildSketch(Plane(origin=(105.7148, 0, 0), x_dir=(0, 0, -1), z_dir=(1, 0, 0))):
        with Locations(Location((78.413058723, 25.7429, 0), (0, 0, 180))):
            Circle(SKETCH23_R)
    extrude(amount=CUT_EXTRUDE14_DEPTH, mode=Mode.SUBTRACT)

    # Sketch25 → Cut-Extrude15 (cut)
    with BuildSketch(Plane(origin=(0, 0, -102.098558723), x_dir=(-1, 0, 0), z_dir=(0, 0, -1))):
        with BuildLine():
            ThreePointArc((-111.503030932, 25.146), (-120.862720905, 34.505689972), (-130.222410877, 25.146))
            Line((-130.222410877, 25.146), (-111.503030932, 25.146))
        make_face()
        with BuildLine():
            Line((-111.503030932, 25.146), (-130.222410877, 25.146))
            ThreePointArc((-130.222410877, 25.146), (-120.862720905, 15.786310028), (-111.503030932, 25.146))
        make_face()
    extrude(amount=-CUT_EXTRUDE15_DEPTH, mode=Mode.SUBTRACT)

    # Sketch27 → Cut-Extrude16 (cut)
    with BuildSketch(Plane.ZY):
        with Locations((-58.2676, 15.205699212)):
            Rectangle(SKETCH27_W, SKETCH27_H)
    extrude(amount=-CUT_EXTRUDE16_DEPTH, mode=Mode.SUBTRACT)

    # Sketch28 → Boss-Extrude8 (add)
    with BuildSketch(Plane.ZY):
        with BuildLine():
            Line((-83.6676, 4.572), (-83.6676, 13.97))
            ThreePointArc((-83.6676, 13.97), (-85.61398953, 9.271), (-83.6676, 4.572))
        make_face()
    extrude(amount=-BOSS_EXTRUDE8_DEPTH)

    # Sketch29 → Boss-Extrude9 (add)
    with BuildSketch(Plane.ZY):
        with BuildLine():
            Line((-32.8676, 13.97), (-32.8676, 4.572))
            ThreePointArc((-32.8676, 4.572), (-30.92121047, 9.271), (-32.8676, 13.97))
        make_face()
    extrude(amount=-BOSS_EXTRUDE9_DEPTH)


solid = part.part
